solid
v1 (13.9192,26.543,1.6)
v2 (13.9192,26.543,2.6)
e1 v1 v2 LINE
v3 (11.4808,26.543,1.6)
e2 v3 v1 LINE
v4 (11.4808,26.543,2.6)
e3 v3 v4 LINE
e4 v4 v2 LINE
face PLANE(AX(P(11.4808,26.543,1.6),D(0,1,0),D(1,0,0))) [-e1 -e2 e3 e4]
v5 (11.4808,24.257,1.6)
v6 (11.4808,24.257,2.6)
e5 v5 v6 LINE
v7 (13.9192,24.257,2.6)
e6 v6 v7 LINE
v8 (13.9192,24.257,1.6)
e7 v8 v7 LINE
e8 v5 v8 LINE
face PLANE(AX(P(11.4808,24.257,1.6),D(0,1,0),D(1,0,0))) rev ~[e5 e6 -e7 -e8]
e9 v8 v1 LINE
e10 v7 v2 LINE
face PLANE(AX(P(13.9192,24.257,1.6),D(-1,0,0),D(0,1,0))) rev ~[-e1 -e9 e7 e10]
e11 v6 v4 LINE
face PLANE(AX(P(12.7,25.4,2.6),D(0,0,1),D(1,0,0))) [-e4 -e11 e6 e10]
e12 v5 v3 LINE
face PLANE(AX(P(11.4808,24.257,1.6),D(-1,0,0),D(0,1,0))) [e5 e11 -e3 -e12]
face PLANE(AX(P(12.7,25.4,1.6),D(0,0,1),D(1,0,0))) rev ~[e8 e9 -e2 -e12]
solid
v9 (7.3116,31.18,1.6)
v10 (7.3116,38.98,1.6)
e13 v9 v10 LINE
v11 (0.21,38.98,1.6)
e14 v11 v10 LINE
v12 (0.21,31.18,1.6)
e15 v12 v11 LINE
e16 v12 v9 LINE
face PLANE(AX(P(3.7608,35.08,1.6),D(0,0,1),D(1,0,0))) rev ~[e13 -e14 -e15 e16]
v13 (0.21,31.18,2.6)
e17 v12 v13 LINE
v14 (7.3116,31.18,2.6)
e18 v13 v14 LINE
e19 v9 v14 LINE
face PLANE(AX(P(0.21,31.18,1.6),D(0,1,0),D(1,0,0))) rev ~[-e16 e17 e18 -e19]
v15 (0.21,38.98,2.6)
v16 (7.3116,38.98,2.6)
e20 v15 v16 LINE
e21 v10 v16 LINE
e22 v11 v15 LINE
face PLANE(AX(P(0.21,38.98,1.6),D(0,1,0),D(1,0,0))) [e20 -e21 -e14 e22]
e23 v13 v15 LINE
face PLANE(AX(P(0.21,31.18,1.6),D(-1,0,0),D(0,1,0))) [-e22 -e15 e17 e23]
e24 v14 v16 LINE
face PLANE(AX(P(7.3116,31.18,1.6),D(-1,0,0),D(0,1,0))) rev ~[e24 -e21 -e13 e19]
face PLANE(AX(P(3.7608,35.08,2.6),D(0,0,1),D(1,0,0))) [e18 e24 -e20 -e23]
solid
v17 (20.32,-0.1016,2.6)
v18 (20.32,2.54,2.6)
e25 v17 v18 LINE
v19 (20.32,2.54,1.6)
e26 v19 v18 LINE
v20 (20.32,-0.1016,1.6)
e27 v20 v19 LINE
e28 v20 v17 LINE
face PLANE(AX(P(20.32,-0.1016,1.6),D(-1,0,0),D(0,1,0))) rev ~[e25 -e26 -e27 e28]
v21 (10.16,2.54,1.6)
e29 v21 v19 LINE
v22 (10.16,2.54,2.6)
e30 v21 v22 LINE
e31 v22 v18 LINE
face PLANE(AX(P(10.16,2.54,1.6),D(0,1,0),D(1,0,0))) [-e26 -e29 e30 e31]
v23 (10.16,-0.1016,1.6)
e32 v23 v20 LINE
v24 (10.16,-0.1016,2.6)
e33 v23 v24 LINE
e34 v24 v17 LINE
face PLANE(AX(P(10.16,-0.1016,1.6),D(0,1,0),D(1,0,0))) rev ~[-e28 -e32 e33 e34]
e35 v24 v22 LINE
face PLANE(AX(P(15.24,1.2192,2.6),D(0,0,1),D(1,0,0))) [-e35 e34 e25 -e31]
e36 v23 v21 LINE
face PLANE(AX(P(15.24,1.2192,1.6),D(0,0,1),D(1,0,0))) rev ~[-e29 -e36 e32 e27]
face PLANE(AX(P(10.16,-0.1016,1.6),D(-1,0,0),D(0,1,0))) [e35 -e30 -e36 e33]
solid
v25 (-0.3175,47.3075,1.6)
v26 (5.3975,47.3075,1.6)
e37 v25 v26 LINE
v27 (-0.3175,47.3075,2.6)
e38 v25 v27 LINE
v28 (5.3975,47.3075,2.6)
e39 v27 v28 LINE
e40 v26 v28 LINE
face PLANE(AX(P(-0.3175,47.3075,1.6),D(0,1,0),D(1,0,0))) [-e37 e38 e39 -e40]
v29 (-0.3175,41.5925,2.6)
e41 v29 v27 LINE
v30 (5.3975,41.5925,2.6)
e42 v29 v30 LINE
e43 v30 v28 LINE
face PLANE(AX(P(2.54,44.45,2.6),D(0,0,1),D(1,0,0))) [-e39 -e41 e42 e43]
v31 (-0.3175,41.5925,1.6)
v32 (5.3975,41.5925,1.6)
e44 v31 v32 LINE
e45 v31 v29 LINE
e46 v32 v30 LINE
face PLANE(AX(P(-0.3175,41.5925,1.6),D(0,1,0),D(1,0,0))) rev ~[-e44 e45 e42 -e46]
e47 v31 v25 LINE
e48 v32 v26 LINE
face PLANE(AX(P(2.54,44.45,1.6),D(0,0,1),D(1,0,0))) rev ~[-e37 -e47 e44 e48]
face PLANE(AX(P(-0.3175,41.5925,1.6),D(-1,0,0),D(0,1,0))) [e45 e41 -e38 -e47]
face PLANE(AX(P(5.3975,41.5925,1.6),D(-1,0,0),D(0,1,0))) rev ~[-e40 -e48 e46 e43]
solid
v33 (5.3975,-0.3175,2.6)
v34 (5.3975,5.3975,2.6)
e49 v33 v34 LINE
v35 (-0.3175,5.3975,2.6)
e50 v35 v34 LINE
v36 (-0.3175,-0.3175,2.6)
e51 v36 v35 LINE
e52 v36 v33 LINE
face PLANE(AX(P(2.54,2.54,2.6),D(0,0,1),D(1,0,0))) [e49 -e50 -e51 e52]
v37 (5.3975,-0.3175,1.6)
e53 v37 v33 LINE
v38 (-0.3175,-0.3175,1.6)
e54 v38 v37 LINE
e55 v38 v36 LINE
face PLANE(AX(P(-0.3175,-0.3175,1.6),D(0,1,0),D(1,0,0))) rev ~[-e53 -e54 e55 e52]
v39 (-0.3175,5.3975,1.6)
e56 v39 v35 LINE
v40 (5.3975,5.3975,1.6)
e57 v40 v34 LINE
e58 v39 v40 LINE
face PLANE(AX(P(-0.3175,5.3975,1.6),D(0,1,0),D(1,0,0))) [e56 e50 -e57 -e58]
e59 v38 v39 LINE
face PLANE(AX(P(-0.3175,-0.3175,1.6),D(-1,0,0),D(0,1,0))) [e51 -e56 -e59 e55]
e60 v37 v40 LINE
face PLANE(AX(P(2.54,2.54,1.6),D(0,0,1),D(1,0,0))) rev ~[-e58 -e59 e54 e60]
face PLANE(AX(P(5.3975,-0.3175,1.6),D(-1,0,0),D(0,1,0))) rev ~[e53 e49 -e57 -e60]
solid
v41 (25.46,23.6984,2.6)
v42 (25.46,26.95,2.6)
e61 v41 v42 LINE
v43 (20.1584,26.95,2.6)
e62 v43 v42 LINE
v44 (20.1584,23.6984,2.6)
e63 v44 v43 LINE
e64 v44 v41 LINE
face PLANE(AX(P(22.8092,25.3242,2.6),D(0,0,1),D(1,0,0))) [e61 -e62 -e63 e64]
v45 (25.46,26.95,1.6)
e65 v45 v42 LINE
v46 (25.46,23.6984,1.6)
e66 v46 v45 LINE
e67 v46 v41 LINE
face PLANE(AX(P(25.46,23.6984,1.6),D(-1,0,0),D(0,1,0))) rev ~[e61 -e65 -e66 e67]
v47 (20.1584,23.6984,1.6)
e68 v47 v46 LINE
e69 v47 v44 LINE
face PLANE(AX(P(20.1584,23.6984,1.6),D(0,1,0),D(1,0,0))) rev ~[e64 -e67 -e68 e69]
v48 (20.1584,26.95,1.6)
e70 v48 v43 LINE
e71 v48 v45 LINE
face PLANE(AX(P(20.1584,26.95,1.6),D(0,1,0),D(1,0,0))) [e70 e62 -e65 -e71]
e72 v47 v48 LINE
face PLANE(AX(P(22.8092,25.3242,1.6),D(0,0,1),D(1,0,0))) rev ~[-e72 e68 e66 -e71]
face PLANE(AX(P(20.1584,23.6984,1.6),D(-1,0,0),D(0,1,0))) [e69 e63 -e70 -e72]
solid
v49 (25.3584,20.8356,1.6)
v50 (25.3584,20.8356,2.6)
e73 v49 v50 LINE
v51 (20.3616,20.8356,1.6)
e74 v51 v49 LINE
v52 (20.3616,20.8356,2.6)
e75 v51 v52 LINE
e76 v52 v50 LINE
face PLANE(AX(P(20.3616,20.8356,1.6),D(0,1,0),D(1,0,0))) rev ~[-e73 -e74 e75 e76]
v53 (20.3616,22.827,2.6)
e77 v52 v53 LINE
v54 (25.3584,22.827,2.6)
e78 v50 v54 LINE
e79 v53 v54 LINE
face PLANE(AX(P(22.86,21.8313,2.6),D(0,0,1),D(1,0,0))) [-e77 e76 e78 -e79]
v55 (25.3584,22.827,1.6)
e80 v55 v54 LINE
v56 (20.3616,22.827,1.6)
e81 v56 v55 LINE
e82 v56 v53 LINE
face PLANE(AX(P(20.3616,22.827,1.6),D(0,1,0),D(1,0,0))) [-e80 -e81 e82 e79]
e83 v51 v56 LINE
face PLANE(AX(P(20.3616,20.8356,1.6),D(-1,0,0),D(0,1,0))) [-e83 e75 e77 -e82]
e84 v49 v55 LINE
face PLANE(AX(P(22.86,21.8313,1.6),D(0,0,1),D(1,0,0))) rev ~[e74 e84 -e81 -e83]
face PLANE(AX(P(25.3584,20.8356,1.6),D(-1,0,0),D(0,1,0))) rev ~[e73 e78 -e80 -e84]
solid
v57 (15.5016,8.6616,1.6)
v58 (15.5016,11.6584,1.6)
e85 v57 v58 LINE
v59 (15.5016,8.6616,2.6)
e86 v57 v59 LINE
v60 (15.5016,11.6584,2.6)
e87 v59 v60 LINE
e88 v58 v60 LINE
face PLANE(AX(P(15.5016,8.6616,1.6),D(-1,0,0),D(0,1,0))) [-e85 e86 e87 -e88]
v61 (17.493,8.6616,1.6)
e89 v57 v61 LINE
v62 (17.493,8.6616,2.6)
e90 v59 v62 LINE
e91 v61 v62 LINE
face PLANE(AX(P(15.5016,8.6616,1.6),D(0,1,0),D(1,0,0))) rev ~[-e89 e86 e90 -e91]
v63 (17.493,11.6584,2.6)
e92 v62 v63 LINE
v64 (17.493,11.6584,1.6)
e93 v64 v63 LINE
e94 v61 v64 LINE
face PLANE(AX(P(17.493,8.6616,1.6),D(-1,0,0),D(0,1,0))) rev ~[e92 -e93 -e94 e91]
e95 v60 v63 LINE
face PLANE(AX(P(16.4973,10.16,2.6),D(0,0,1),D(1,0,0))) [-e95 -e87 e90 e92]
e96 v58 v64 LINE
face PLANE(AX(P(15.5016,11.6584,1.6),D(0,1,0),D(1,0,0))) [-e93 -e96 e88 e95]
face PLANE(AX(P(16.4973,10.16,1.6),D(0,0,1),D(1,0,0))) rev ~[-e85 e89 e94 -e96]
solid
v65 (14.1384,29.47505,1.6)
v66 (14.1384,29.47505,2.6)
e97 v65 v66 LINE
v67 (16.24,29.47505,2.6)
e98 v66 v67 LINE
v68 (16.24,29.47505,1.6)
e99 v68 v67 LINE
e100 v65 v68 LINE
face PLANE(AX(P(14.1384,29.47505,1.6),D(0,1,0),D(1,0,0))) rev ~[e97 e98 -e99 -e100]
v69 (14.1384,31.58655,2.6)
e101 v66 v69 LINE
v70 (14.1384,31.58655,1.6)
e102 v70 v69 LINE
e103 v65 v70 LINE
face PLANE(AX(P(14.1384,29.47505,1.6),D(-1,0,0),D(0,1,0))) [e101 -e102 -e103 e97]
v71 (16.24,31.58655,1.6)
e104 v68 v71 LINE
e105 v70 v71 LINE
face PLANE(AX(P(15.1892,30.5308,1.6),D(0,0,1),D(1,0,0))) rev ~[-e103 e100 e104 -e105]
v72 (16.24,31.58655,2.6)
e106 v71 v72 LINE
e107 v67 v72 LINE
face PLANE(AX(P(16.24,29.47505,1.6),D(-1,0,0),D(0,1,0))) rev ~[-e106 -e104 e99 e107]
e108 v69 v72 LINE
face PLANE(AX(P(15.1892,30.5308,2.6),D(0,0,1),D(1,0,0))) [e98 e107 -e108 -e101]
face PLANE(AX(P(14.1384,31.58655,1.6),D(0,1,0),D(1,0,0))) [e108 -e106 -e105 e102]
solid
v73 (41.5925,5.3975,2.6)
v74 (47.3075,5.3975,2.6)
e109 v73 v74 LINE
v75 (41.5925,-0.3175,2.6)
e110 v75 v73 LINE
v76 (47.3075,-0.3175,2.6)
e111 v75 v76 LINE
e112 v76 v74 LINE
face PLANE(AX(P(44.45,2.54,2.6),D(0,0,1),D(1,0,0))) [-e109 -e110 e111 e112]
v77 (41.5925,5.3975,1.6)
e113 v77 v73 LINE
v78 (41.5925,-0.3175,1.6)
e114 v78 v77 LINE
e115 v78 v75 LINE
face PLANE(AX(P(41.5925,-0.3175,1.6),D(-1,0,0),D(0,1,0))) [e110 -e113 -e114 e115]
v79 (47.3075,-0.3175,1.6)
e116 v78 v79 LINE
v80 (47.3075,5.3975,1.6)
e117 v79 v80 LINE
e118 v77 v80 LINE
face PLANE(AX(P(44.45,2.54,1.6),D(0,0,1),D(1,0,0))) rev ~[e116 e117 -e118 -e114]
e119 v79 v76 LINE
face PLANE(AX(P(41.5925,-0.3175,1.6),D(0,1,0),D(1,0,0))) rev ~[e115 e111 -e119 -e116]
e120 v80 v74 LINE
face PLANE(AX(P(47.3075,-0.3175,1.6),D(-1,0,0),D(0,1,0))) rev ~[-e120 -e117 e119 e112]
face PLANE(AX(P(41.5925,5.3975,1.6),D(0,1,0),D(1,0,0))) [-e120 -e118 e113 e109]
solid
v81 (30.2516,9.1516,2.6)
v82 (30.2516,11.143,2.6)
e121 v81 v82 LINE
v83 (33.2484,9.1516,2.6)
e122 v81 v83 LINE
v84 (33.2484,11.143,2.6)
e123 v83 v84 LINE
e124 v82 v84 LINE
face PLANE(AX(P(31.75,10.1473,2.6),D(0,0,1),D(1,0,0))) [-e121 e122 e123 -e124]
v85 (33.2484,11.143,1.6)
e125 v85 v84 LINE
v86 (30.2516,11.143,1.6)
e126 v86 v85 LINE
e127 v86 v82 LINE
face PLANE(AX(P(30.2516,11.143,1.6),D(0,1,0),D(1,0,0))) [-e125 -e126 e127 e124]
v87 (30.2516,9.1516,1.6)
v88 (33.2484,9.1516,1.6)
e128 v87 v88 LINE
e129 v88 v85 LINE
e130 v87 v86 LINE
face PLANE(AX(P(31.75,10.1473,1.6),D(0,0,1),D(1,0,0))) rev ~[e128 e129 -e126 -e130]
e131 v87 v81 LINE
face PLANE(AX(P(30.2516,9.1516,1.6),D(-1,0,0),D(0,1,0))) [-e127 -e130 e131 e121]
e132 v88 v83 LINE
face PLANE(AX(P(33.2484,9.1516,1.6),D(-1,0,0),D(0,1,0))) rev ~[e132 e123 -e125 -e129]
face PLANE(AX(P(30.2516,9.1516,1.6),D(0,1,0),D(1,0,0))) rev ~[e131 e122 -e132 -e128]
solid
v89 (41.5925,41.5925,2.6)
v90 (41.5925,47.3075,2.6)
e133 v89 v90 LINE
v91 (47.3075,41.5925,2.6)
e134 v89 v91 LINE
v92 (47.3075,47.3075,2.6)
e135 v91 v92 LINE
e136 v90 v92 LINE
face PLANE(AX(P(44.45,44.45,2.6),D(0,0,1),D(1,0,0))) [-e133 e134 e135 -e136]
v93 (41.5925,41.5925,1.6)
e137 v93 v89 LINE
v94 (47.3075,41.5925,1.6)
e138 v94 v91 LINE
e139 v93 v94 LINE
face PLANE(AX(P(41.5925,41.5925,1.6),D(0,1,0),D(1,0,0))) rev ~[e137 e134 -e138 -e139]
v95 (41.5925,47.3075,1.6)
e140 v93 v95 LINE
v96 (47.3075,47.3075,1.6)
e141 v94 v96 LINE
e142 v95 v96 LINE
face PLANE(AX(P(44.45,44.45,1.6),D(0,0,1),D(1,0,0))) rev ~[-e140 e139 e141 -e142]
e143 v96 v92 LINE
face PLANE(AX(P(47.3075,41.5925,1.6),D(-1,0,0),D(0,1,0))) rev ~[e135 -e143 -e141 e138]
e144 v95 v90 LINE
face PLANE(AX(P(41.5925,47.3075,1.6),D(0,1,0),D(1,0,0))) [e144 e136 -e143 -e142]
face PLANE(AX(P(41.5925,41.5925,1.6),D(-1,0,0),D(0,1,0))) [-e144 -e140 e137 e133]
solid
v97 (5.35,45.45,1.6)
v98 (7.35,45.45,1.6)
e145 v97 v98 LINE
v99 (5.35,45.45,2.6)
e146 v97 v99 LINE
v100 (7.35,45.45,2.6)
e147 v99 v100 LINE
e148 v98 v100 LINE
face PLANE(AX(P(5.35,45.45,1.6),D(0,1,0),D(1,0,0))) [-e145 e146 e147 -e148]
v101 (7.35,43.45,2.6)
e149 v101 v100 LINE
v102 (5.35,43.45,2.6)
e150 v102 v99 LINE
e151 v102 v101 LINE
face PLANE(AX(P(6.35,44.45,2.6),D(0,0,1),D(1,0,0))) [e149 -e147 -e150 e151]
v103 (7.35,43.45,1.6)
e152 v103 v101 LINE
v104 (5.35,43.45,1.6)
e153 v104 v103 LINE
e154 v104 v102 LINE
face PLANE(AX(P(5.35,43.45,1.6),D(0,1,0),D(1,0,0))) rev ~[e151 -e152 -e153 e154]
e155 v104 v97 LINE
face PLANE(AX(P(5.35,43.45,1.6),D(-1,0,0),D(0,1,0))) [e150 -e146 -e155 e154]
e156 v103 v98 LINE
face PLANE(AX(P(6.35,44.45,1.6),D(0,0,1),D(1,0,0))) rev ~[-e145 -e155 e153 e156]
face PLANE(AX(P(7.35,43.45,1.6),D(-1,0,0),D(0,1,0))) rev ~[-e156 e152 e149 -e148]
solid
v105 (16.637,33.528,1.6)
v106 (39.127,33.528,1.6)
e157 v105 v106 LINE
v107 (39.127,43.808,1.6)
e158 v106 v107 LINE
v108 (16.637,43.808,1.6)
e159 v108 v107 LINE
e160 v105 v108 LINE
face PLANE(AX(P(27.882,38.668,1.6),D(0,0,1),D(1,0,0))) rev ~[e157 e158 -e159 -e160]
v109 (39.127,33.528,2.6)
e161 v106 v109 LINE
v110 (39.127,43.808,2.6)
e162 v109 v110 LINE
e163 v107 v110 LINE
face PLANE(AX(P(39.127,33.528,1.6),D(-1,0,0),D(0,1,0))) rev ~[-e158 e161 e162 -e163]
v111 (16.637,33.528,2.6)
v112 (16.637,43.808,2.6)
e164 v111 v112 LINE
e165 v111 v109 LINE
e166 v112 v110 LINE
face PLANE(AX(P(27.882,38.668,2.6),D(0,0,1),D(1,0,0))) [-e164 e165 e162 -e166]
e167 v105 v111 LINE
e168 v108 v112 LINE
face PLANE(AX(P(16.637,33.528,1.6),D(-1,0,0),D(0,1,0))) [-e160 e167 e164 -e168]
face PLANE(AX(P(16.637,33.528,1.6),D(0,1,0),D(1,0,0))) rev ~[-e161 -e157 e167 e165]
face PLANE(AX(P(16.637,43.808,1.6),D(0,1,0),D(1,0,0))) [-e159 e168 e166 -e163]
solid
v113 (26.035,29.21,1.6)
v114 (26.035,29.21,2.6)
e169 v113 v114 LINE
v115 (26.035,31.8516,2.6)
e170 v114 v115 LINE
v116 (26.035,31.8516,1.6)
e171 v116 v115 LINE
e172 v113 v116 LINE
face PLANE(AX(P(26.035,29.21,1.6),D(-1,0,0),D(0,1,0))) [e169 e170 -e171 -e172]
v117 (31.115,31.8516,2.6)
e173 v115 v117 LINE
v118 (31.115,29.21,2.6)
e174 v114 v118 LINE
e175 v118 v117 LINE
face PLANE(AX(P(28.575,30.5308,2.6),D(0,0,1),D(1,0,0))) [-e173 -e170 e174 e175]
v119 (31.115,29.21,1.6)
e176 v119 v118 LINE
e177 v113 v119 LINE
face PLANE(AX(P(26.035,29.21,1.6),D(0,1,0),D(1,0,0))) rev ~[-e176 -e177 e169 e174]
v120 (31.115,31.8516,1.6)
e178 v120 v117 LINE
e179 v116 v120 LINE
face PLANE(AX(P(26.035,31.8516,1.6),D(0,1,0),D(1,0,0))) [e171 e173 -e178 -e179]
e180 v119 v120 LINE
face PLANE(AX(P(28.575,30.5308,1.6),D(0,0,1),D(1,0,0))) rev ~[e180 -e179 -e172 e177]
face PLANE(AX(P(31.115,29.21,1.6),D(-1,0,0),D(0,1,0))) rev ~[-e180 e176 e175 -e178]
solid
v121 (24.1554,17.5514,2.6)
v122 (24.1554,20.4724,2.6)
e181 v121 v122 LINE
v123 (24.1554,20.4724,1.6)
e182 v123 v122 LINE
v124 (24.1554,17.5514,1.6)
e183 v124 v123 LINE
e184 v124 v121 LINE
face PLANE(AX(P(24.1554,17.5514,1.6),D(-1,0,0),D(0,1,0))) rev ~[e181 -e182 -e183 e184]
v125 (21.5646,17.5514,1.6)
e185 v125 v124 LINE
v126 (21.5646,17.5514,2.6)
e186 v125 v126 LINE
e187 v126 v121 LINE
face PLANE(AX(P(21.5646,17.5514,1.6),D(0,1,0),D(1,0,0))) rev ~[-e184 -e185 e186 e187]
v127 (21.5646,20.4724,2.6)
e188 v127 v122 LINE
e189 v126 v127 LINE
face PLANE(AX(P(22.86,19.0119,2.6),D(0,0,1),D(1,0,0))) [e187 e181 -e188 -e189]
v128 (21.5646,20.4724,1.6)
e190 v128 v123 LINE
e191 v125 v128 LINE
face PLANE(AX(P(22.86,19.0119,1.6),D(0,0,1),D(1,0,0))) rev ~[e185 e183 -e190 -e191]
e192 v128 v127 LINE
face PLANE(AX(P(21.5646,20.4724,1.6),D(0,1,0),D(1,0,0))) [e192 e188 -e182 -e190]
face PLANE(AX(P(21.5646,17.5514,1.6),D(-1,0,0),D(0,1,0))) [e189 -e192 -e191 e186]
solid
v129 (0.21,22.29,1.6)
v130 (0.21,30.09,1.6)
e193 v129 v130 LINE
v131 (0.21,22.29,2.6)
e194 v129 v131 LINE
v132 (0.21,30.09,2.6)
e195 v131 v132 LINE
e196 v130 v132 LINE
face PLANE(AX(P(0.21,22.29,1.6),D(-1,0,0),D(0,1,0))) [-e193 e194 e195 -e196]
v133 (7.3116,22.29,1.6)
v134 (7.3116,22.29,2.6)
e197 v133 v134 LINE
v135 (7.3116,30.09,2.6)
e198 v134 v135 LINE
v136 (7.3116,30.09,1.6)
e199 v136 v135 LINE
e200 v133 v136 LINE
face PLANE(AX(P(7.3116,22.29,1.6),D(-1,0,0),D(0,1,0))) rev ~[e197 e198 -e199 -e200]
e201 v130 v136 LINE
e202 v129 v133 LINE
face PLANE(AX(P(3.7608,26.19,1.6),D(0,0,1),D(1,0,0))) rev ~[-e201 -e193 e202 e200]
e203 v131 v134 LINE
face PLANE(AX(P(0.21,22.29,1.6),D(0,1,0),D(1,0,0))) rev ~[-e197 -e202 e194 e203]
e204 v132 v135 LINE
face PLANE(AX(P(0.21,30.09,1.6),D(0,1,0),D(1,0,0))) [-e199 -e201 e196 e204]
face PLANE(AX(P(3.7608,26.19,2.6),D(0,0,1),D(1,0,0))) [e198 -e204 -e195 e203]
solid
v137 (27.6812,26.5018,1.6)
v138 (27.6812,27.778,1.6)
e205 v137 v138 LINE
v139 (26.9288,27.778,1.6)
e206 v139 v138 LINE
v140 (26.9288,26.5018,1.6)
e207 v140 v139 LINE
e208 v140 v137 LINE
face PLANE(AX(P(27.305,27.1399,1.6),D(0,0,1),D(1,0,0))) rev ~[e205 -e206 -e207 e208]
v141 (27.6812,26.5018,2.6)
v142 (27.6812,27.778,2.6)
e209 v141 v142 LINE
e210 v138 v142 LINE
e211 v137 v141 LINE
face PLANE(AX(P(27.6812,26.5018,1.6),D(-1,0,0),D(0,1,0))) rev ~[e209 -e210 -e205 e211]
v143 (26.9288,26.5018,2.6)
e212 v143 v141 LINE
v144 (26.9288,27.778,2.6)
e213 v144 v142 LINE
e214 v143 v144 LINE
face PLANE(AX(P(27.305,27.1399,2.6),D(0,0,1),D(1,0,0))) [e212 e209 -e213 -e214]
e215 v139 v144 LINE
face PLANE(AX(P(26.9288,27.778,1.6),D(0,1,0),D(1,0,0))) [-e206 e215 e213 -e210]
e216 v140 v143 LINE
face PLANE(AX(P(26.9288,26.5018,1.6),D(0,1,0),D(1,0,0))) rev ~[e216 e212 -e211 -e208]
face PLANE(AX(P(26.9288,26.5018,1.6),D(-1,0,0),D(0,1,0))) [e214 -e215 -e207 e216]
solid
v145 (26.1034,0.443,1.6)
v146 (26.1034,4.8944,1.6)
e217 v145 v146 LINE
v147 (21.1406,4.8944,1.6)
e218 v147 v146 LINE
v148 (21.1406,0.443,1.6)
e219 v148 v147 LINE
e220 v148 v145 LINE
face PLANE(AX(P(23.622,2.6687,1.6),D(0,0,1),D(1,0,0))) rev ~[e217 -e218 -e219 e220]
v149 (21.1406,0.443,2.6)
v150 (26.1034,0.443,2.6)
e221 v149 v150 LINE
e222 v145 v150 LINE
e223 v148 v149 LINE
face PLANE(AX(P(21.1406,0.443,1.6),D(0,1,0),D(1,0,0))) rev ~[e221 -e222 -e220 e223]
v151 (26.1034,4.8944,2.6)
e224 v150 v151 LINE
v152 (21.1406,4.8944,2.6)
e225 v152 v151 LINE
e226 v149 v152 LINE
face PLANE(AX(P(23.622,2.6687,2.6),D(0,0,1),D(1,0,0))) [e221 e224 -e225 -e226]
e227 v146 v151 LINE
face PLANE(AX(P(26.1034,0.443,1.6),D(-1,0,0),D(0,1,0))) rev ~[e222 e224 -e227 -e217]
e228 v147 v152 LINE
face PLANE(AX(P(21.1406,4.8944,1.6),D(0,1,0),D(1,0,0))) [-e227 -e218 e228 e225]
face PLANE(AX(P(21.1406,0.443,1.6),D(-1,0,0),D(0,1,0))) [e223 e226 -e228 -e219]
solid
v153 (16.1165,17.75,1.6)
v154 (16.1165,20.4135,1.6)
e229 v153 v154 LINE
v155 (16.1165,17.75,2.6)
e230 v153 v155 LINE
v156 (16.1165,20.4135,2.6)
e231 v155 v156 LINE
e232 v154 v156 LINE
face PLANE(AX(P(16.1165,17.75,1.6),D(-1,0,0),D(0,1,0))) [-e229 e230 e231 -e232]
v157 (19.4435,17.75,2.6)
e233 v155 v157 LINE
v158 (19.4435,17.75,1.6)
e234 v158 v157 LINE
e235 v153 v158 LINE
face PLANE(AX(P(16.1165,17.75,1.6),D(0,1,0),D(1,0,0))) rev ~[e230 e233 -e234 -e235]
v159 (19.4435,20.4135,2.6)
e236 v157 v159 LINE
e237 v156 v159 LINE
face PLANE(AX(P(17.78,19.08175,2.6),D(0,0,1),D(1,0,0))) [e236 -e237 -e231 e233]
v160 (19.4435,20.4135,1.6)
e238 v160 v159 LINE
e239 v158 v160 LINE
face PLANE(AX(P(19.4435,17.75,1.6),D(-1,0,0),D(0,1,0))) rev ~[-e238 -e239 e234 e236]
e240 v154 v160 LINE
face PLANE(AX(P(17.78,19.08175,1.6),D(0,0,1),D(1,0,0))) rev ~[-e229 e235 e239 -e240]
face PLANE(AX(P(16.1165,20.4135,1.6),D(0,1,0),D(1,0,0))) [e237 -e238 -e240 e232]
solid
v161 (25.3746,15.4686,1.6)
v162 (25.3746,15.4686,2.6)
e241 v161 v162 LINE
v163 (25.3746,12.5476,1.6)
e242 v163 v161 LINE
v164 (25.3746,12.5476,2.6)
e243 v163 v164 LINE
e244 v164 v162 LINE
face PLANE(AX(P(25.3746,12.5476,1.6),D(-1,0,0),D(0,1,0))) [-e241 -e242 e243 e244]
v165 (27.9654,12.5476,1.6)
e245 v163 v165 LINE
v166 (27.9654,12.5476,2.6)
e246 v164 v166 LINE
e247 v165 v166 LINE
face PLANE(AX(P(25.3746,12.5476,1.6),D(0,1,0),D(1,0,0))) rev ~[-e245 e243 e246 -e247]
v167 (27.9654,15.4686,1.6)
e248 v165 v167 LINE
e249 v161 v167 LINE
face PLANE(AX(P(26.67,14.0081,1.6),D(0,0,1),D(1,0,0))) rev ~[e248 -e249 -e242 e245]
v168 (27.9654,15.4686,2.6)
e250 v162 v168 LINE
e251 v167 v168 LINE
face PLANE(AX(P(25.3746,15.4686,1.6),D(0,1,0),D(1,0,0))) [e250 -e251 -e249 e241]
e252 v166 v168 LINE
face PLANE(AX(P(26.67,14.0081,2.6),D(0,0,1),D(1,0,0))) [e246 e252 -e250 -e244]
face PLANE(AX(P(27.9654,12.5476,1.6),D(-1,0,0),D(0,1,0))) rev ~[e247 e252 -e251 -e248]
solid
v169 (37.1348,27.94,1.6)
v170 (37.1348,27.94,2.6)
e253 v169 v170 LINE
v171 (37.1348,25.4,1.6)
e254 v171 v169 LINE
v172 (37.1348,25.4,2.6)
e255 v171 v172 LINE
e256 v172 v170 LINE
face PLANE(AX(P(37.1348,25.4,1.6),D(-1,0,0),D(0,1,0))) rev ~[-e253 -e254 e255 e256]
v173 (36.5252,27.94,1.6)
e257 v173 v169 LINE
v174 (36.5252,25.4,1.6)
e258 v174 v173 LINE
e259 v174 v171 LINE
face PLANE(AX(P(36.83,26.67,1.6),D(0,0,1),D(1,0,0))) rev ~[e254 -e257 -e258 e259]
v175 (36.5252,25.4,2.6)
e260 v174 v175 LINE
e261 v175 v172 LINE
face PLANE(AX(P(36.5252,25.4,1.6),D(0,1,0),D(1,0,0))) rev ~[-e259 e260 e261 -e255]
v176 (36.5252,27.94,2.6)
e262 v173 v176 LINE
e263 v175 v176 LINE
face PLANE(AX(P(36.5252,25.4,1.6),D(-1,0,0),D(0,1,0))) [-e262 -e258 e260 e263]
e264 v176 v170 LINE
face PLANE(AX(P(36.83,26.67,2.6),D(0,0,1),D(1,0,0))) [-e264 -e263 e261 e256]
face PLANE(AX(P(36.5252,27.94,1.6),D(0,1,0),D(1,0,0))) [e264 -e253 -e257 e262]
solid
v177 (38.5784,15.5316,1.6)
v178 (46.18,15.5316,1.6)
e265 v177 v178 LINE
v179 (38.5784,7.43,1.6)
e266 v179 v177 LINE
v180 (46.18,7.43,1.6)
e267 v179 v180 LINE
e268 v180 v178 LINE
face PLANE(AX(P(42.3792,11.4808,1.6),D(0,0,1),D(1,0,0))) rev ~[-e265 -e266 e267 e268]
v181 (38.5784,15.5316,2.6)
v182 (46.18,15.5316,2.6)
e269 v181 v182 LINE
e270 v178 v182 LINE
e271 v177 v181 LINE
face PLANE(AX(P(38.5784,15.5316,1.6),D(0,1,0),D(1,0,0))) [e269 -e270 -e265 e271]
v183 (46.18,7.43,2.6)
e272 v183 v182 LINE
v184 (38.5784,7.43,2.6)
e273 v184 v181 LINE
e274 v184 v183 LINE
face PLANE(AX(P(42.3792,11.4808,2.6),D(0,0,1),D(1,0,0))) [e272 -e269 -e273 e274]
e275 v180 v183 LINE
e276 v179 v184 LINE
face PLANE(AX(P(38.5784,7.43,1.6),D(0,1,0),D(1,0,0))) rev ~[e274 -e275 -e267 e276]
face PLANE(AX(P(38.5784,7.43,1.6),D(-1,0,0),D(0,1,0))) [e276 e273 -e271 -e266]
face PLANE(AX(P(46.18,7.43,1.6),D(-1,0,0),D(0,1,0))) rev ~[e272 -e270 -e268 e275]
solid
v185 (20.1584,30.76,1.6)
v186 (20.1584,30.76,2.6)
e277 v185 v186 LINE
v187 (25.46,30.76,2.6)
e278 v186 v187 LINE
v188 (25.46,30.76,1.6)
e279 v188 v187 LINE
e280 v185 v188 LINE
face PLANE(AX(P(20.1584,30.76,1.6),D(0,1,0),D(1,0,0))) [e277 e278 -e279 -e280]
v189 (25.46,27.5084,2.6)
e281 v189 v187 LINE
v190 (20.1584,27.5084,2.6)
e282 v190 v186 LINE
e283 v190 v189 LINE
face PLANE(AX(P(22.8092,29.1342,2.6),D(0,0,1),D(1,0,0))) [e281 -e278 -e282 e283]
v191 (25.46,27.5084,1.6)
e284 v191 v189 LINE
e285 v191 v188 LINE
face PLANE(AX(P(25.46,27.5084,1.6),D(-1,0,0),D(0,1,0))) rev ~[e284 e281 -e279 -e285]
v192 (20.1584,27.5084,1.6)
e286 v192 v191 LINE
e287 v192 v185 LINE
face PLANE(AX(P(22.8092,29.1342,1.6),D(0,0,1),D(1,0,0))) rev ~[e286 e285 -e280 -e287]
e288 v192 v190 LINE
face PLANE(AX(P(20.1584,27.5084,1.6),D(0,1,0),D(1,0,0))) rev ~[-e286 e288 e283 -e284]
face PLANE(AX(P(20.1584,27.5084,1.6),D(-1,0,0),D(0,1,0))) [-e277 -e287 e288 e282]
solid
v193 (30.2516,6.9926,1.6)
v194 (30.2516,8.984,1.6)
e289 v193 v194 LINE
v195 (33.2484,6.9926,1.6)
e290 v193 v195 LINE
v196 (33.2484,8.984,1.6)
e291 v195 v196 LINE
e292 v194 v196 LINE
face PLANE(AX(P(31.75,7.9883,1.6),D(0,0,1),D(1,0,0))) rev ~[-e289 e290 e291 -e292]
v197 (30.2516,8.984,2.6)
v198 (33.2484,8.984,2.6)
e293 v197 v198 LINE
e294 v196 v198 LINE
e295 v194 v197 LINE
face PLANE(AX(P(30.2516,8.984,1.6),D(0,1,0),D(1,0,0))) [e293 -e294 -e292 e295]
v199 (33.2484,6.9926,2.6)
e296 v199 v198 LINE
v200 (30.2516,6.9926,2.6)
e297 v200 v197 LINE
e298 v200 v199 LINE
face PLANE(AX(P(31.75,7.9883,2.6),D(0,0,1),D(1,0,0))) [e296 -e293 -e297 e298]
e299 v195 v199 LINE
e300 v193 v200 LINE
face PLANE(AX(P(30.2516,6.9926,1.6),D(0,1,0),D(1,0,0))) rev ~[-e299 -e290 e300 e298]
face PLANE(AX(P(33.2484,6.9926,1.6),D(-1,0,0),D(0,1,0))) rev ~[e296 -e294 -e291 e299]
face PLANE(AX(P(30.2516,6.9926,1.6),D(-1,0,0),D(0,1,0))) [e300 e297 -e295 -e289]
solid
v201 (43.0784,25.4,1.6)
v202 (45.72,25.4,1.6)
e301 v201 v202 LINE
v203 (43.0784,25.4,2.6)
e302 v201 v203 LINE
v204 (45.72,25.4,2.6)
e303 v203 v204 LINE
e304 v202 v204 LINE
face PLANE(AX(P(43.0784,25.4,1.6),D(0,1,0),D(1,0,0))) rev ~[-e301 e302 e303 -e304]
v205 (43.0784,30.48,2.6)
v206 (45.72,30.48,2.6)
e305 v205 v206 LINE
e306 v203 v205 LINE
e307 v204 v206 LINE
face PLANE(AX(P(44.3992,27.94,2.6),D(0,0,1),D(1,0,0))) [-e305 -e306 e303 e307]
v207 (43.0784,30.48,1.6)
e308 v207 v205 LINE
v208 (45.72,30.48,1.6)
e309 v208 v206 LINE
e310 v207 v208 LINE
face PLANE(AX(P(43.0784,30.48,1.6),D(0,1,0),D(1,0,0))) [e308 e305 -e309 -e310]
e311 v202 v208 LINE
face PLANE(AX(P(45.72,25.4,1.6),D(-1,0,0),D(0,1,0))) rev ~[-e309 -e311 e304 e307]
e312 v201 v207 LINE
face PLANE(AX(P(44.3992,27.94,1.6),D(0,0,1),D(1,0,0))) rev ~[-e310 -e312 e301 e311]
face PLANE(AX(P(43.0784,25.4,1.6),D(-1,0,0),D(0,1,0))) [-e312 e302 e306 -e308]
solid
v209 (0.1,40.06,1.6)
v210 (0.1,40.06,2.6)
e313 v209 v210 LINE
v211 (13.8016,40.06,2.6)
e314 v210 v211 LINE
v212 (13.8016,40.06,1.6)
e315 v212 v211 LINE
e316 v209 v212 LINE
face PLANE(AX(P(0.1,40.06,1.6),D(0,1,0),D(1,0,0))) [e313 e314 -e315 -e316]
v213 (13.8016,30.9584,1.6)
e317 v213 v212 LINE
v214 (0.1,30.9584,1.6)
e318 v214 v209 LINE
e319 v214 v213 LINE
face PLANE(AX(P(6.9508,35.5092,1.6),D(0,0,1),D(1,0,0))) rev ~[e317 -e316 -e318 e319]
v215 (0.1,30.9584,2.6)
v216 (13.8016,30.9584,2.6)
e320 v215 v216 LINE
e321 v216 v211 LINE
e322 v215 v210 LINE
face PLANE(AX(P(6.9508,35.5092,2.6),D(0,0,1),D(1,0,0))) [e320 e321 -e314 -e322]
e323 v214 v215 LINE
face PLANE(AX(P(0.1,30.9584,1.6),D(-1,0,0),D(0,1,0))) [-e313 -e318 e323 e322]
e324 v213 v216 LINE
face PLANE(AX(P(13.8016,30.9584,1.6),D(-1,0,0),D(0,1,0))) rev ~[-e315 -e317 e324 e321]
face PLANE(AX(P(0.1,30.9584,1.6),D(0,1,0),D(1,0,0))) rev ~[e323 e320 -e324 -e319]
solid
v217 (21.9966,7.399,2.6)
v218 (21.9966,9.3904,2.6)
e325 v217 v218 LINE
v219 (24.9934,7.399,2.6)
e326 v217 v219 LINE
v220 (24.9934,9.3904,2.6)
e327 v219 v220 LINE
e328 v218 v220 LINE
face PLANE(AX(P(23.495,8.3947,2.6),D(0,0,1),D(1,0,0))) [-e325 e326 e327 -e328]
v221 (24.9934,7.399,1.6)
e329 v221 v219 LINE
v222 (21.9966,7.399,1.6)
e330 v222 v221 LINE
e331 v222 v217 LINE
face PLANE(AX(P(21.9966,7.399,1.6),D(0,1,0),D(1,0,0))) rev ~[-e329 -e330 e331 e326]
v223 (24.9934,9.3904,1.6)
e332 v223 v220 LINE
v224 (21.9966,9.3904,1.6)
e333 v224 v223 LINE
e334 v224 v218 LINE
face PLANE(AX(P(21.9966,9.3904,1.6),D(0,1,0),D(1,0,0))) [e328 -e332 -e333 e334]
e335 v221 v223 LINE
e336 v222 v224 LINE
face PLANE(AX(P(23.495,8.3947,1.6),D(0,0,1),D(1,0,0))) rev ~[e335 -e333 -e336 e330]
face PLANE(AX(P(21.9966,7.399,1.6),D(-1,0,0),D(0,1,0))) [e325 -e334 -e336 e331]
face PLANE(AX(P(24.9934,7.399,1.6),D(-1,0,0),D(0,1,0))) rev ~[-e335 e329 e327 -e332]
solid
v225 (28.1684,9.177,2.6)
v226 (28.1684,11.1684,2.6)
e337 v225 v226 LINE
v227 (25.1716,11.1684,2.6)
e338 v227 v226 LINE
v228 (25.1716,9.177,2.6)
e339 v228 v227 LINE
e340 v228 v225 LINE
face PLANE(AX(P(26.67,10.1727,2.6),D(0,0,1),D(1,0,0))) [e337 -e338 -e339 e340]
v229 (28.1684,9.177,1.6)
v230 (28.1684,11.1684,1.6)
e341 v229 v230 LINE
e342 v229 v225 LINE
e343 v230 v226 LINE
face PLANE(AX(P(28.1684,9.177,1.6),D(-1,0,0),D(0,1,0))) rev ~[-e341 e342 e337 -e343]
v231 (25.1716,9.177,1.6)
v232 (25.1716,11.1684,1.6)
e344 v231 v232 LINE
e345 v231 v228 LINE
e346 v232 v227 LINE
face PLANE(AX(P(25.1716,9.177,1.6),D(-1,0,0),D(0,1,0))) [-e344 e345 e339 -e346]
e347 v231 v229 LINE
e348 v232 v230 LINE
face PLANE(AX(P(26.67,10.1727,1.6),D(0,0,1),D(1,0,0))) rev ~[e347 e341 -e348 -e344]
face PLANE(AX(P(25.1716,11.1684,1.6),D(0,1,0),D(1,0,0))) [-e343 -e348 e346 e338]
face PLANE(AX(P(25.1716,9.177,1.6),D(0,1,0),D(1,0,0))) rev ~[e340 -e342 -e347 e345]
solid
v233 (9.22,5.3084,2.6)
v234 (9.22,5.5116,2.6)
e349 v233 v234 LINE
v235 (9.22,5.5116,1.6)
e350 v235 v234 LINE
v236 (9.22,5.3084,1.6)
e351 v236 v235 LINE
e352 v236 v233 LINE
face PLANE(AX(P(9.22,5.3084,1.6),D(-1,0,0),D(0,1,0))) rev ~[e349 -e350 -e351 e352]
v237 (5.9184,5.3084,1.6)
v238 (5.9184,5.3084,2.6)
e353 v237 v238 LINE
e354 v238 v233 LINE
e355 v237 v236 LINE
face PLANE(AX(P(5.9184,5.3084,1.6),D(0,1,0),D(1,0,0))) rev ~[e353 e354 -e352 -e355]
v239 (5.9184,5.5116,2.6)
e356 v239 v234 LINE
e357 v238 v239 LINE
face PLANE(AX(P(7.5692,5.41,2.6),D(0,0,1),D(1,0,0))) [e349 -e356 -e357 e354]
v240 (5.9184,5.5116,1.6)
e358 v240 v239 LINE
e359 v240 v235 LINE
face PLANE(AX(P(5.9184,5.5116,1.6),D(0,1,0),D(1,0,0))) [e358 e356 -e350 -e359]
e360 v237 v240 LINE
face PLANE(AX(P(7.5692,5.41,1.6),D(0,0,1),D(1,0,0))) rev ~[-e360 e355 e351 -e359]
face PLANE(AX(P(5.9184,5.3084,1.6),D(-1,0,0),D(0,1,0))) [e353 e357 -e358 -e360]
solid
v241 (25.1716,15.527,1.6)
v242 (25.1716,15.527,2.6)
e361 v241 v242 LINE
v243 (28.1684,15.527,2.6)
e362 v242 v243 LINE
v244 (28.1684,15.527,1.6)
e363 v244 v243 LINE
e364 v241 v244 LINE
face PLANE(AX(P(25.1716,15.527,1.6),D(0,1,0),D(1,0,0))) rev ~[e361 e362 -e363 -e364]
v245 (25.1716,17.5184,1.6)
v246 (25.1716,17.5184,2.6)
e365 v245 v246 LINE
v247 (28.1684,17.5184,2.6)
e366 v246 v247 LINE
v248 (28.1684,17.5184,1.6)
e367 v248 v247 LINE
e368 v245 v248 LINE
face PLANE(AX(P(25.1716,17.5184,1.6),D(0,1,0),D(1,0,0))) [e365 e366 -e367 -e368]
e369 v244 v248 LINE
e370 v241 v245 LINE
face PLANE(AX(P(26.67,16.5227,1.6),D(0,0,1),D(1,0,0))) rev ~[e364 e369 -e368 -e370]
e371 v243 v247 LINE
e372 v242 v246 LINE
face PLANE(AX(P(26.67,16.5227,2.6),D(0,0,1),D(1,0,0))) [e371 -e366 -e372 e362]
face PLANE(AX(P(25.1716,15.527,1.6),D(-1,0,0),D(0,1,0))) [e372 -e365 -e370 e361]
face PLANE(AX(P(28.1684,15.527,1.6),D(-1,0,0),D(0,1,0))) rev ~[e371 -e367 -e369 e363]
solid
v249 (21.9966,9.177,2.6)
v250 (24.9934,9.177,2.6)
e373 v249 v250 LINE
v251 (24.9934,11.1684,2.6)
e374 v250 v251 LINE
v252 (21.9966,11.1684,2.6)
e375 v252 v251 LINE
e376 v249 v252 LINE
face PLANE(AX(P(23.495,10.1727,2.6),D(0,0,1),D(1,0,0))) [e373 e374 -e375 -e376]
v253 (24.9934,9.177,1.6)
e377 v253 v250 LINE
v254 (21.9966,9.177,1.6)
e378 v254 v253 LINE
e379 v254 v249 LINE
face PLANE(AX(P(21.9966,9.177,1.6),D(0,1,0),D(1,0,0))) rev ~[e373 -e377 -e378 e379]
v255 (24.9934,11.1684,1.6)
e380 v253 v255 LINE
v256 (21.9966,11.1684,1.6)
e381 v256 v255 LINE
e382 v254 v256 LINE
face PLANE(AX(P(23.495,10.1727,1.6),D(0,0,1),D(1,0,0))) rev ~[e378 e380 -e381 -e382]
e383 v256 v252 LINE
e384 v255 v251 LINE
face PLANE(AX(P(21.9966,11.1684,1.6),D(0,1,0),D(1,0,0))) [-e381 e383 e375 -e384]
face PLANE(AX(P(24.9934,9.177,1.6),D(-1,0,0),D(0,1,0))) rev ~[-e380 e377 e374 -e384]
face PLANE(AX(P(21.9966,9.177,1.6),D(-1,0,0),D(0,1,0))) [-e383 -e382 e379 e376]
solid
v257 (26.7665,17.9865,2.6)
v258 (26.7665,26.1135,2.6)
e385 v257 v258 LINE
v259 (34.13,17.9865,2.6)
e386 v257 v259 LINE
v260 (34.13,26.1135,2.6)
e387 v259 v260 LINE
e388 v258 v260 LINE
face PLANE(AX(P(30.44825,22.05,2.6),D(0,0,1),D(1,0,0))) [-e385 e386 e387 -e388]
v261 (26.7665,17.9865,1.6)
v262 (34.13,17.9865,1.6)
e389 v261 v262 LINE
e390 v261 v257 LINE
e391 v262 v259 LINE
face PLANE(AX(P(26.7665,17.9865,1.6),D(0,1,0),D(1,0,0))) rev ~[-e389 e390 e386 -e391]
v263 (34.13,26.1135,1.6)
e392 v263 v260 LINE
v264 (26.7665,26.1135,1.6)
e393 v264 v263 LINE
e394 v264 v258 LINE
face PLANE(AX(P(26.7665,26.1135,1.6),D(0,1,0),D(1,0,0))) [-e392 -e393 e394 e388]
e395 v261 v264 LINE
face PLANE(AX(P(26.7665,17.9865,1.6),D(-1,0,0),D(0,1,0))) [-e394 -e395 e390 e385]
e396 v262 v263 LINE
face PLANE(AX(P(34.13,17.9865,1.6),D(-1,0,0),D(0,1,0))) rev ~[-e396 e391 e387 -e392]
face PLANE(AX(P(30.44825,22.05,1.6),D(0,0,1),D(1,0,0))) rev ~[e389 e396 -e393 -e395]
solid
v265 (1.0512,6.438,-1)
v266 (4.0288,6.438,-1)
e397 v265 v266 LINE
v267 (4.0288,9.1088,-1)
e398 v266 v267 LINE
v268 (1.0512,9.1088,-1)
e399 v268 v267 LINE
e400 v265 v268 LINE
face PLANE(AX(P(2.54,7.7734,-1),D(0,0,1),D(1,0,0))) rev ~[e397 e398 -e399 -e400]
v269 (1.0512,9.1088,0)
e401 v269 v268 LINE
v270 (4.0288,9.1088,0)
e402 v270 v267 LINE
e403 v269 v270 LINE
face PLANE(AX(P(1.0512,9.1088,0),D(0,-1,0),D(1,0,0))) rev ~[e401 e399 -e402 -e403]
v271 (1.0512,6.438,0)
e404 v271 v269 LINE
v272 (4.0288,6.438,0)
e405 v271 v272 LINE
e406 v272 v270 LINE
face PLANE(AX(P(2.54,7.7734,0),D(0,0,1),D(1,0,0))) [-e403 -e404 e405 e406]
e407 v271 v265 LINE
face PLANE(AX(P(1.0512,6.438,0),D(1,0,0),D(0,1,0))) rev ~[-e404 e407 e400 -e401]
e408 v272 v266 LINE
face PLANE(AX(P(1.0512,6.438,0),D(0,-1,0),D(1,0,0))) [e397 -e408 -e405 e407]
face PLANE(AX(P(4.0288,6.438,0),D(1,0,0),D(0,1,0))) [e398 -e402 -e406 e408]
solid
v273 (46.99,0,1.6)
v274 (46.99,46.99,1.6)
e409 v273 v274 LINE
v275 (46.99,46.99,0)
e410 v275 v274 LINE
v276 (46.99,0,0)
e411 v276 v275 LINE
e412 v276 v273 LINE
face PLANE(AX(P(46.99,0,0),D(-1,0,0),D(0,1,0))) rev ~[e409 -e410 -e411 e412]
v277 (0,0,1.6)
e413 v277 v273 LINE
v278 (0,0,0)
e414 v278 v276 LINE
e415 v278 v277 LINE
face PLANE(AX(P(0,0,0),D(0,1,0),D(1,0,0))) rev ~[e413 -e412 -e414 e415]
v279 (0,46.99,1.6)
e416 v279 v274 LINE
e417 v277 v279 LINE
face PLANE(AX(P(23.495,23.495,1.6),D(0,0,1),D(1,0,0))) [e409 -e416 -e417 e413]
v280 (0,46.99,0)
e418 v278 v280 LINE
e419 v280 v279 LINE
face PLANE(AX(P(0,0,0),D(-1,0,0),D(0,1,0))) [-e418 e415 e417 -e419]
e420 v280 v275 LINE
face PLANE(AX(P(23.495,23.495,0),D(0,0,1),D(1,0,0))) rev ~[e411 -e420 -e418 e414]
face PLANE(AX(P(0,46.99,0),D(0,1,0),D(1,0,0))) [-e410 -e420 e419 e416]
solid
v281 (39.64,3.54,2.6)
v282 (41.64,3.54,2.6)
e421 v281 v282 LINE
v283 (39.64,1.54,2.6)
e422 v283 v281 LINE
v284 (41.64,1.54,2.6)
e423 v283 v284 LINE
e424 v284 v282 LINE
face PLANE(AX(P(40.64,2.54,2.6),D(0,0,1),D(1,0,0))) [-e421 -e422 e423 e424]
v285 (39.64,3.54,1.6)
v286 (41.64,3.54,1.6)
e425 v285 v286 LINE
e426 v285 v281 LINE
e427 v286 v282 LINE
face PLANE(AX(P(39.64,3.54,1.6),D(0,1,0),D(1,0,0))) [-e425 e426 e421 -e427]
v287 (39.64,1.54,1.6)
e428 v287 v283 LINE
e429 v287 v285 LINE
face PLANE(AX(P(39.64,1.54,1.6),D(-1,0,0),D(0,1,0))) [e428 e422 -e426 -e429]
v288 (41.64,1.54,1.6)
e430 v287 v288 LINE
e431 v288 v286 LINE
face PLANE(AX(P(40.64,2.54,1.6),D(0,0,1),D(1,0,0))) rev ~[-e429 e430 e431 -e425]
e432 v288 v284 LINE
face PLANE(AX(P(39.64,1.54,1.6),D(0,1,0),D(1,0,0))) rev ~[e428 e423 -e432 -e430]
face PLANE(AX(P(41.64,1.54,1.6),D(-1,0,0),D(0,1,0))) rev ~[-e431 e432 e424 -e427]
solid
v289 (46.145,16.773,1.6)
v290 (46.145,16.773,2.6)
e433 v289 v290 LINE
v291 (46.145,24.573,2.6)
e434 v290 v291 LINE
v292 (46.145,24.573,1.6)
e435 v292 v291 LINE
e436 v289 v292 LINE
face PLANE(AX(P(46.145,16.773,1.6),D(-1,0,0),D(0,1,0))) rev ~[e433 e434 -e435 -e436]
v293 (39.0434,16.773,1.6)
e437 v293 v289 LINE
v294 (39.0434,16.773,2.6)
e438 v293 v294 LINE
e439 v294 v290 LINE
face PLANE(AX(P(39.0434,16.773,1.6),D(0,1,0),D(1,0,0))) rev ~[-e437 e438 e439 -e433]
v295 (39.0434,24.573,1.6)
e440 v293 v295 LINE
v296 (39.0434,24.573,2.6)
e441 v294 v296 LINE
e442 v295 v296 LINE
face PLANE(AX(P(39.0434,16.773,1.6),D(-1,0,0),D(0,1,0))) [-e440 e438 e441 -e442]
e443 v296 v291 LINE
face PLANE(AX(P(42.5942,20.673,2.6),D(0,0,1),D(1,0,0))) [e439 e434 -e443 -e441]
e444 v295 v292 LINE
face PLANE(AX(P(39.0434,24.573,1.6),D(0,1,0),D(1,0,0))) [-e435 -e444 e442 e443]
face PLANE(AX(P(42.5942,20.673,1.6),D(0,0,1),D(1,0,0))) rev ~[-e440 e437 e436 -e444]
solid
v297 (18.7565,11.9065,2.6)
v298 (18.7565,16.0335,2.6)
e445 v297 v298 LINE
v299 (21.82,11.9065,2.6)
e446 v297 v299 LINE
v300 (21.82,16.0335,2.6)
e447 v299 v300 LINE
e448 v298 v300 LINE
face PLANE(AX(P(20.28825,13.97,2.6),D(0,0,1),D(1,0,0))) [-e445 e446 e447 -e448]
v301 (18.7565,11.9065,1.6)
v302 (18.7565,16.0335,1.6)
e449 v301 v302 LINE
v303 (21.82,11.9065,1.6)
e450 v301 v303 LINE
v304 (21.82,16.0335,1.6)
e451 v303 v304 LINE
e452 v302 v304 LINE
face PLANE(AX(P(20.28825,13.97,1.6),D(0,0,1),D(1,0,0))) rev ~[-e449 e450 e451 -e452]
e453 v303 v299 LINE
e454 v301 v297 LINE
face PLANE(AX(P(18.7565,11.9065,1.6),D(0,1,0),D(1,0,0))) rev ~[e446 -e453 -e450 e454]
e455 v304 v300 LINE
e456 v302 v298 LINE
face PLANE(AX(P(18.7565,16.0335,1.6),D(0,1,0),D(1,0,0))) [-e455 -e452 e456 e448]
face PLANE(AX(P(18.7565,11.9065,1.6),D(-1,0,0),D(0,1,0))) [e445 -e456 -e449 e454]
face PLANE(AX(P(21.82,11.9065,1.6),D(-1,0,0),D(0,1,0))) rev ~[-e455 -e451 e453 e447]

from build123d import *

# Parameters (mm, degrees)
SKETCH1_W                            = 46.99
SKETCH1_H                            = 46.99
BOARD_DEPTH                          = 1.6
SKETCH2_W                            = 3.327
SKETCH2_H                            = 2.6635
EXTRUDE_1210_1_DEPTH                 = 1
SKETCH3_W                            = 4.9968
SKETCH3_H                            = 1.9914
EXTRUDE_1206_1_DEPTH                 = 1
SKETCH4_W                            = 5.3016
SKETCH4_H                            = 3.2516
EIA3528_1_DEPTH                      = 1
SKETCH5_W                            = 5.3016
SKETCH5_H                            = 3.2516
EIA3528_2_DEPTH                      = 1
SKETCH6_W                            = 2.9968
SKETCH6_H                            = 1.9914
F_0603_CAP_1_DEPTH                   = 1
SKETCH7_W                            = 1.9914
SKETCH7_H                            = 2.9968
F_0603_CAP_2_DEPTH                   = 1
SKETCH8_W                            = 2.5908
SKETCH8_H                            = 2.921
SOT23_1_DEPTH                        = 1
SKETCH9_W                            = 2.5908
SKETCH9_H                            = 2.921
SOT23_2_DEPTH                        = 1
SKETCH10_W                           = 2
SKETCH10_H                           = 2
FIDUCIAL_1X2_1_DEPTH                 = 1
SKETCH11_W                           = 2
SKETCH11_H                           = 2
FIDUCIAL_1X2_2_DEPTH                 = 1
SKETCH14_W                           = 13.7016
SKETCH14_H                           = 9.1016
POWER_JACK_PTH_1_DEPTH               = 1
SKETCH15_W                           = 7.6016
SKETCH15_H                           = 8.1016
JST_2_SMD_1_DEPTH                    = 1
SKETCH16_W                           = 10.16
SKETCH16_H                           = 2.6416
EXTRUDE_1X04_1_DEPTH                 = 1
SKETCH17_W                           = 2.6416
SKETCH17_H                           = 5.08
EXTRUDE_1X02_1_DEPTH                 = 1
SKETCH18_W                           = 7.1016
SKETCH18_H                           = 7.8
SCREWTERMINAL_3_5MM_2_1_DEPTH        = 1
SKETCH19_W                           = 7.1016
SKETCH19_H                           = 7.8
SCREWTERMINAL_3_5MM_2_2_DEPTH        = 1
SKETCH20_W                           = 7.1016
SKETCH20_H                           = 7.8
SCREWTERMINAL_3_5MM_2_3_DEPTH        = 1
SKETCH21_W                           = 2.4384
SKETCH21_H                           = 2.286
SJ_2S_1_DEPTH                        = 1
SKETCH22_W                           = 2.1016
SKETCH22_H                           = 2.1115
SJ_2S_NO_1_DEPTH                     = 1
SKETCH23_W                           = 0.6096
SKETCH23_H                           = 2.54
PTH_JUMPER_NC_BOTTOM_NO_SILK_1_DEPTH = 1
SKETCH24_W                           = 5.08
SKETCH24_H                           = 2.6416
EXTRUDE_1X02_2_DEPTH                 = 1
SKETCH25_W                           = 7.3635
SKETCH25_H                           = 8.127
CR75_1_DEPTH                         = 1
SKETCH26_W                           = 22.49
SKETCH26_H                           = 10.28
SFE_LOGO_NAME_FLAME_2_1_DEPTH        = 1
SKETCH27_W                           = 4.9628
SKETCH27_H                           = 4.4514
OSHW_LOGO_M_1_DEPTH                  = 1
SKETCH28_W                           = 2.9776
SKETCH28_H                           = 2.6708
OSHW_LOGO_S_1_DEPTH                  = 1
SKETCH30_W                           = 0.7524
SKETCH30_H                           = 1.2762
EXTRUDE_0805_1_DEPTH                 = 1
SKETCH31_W                           = 2.9968
SKETCH31_H                           = 1.9914
F_0603_RES_1_DEPTH                   = 1
SKETCH32_W                           = 2.9968
SKETCH32_H                           = 1.9914
F_0603_RES_2_DEPTH                   = 1
SKETCH33_W                           = 2.9968
SKETCH33_H                           = 1.9914
F_0603_RES_3_DEPTH                   = 1
SKETCH34_W                           = 2.9968
SKETCH34_H                           = 1.9914
F_0603_RES_4_DEPTH                   = 1
SKETCH35_W                           = 2.9968
SKETCH35_H                           = 1.9914
F_0603_RES_5_DEPTH                   = 1
SKETCH36_W                           = 3.3016
SKETCH36_H                           = 0.2032
TRIMPOT_3MM_1_DEPTH                  = 1
SKETCH37_W                           = 5.715
SKETCH37_H                           = 5.715
STAND_OFF_1_DEPTH                    = 1
SKETCH38_W                           = 5.715
SKETCH38_H                           = 5.715
STAND_OFF_2_DEPTH                    = 1
SKETCH39_W                           = 5.715
SKETCH39_H                           = 5.715
STAND_OFF_3_DEPTH                    = 1
SKETCH40_W                           = 5.715
SKETCH40_H                           = 5.715
STAND_OFF_4_DEPTH                    = 1
SKETCH41_W                           = 3.0635
SKETCH41_H                           = 4.127
MSOP_12_GND_1_DEPTH                  = 1


with BuildPart() as part:
    # Sketch1 → BOARD (new body)
    with BuildSketch(Plane.XY):
        with Locations((23.495, 23.495)):
            Rectangle(SKETCH1_W, SKETCH1_H)
    extrude(amount=BOARD_DEPTH)


with BuildPart() as body_2:
    # Sketch2 → 1210-1 (new body)
    with BuildSketch(Plane.XY.offset(1.6)):
        with Locations((17.78, 19.08175)):
            Rectangle(SKETCH2_W, SKETCH2_H)
    extrude(amount=EXTRUDE_1210_1_DEPTH)


with BuildPart() as body_3:
    # Sketch3 → 1206-1 (new body)
    with BuildSketch(Plane.XY.offset(1.6)):
        with Locations((22.86, 21.8313)):
            Rectangle(SKETCH3_W, SKETCH3_H)
    extrude(amount=EXTRUDE_1206_1_DEPTH)


with BuildPart() as body_4:
    # Sketch4 → EIA3528-1 (new body)
    with BuildSketch(Plane.XY.offset(1.6)):
        with Locations((22.8092, 29.1342)):
            Rectangle(SKETCH4_W, SKETCH4_H)
    extrude(amount=EIA3528_1_DEPTH)


with BuildPart() as body_5:
    # Sketch5 → EIA3528-2 (new body)
    with BuildSketch(Plane.XY.offset(1.6)):
        with Locations((22.8092, 25.3242)):
            Rectangle(SKETCH5_W, SKETCH5_H)
    extrude(amount=EIA3528_2_DEPTH)


with BuildPart() as body_6:
    # Sketch6 → 0603-CAP-1 (new body)
    with BuildSketch(Plane.XY.offset(1.6)):
        with Locations((26.67, 16.5227)):
            Rectangle(SKETCH6_W, SKETCH6_H)
    extrude(amount=F_0603_CAP_1_DEPTH)


with BuildPart() as body_7:
    # Sketch7 → 0603-CAP-2 (new body)
    with BuildSketch(Plane.XY.offset(1.6)):
        with Locations((16.4973, 10.16)):
            Rectangle(SKETCH7_W, SKETCH7_H)
    extrude(amount=F_0603_CAP_2_DEPTH)


with BuildPart() as body_8:
    # Sketch8 → SOT23-1 (new body)
    with BuildSketch(Plane.XY.offset(1.6)):
        with Locations((22.86, 19.0119)):
            Rectangle(SKETCH8_W, SKETCH8_H)
    extrude(amount=SOT23_1_DEPTH)


with BuildPart() as body_9:
    # Sketch9 → SOT23-2 (new body)
    with BuildSketch(Plane.XY.offset(1.6)):
        with Locations((26.67, 14.0081)):
            Rectangle(SKETCH9_W, SKETCH9_H)
    extrude(amount=SOT23_2_DEPTH)


with BuildPart() as body_10:
    # Sketch10 → FIDUCIAL-1X2-1 (new body)
    with BuildSketch(Plane.XY.offset(1.6)):
        with Locations((6.35, 44.45)):
            Rectangle(SKETCH10_W, SKETCH10_H)
    extrude(amount=FIDUCIAL_1X2_1_DEPTH)


with BuildPart() as body_11:
    # Sketch11 → FIDUCIAL-1X2-2 (new body)
    with BuildSketch(Plane.XY.offset(1.6)):
        with Locations((40.64, 2.54)):
            Rectangle(SKETCH11_W, SKETCH11_H)
    extrude(amount=FIDUCIAL_1X2_2_DEPTH)


with BuildPart() as body_12:
    # Sketch14 → POWER_JACK_PTH-1 (new body)
    with BuildSketch(Plane.XY.offset(1.6)):
        with Locations((6.9508, 35.5092)):
            Rectangle(SKETCH14_W, SKETCH14_H)
    extrude(amount=POWER_JACK_PTH_1_DEPTH)


with BuildPart() as body_13:
    # Sketch15 → JST-2-SMD-1 (new body)
    with BuildSketch(Plane.XY.offset(1.6)):
        with Locations((42.3792, 11.4808)):
            Rectangle(SKETCH15_W, SKETCH15_H)
    extrude(amount=JST_2_SMD_1_DEPTH)


with BuildPart() as body_14:
    # Sketch16 → 1X04-1 (new body)
    with BuildSketch(Plane.XY.offset(1.6)):
        with Locations((15.24, 1.2192)):
            Rectangle(SKETCH16_W, SKETCH16_H)
    extrude(amount=EXTRUDE_1X04_1_DEPTH)


with BuildPart() as body_15:
    # Sketch17 → 1X02-1 (new body)
    with BuildSketch(Plane.XY.offset(1.6)):
        with Locations((44.3992, 27.94)):
            Rectangle(SKETCH17_W, SKETCH17_H)
    extrude(amount=EXTRUDE_1X02_1_DEPTH)


with BuildPart() as body_16:
    # Sketch18 → SCREWTERMINAL-3_5MM-2-1 (new body)
    with BuildSketch(Plane.XY.offset(1.6)):
        with Locations((42.5942, 20.673)):
            Rectangle(SKETCH18_W, SKETCH18_H)
    extrude(amount=SCREWTERMINAL_3_5MM_2_1_DEPTH)


with BuildPart() as body_17:
    # Sketch19 → SCREWTERMINAL-3_5MM-2-2 (new body)
    with BuildSketch(Plane.XY.offset(1.6)):
        with Locations((3.7608, 35.08)):
            Rectangle(SKETCH19_W, SKETCH19_H)
    extrude(amount=SCREWTERMINAL_3_5MM_2_2_DEPTH)


with BuildPart() as body_18:
    # Sketch20 → SCREWTERMINAL-3_5MM-2-3 (new body)
    with BuildSketch(Plane.XY.offset(1.6)):
        with Locations((3.7608, 26.19)):
            Rectangle(SKETCH20_W, SKETCH20_H)
    extrude(amount=SCREWTERMINAL_3_5MM_2_3_DEPTH)


with BuildPart() as body_19:
    # Sketch21 → SJ_2S-1 (new body)
    with BuildSketch(Plane.XY.offset(1.6)):
        with Locations((12.7, 25.4)):
            Rectangle(SKETCH21_W, SKETCH21_H)
    extrude(amount=SJ_2S_1_DEPTH)


with BuildPart() as body_20:
    # Sketch22 → SJ_2S-NO-1 (new body)
    with BuildSketch(Plane.XY.offset(1.6)):
        with Locations((15.1892, 30.5308)):
            Rectangle(SKETCH22_W, SKETCH22_H)
    extrude(amount=SJ_2S_NO_1_DEPTH)


with BuildPart() as body_21:
    # Sketch23 → PTH-JUMPER-NC_BOTTOM_NO_SILK-1 (new body)
    with BuildSketch(Plane.XY.offset(1.6)):
        with Locations((36.83, 26.67)):
            Rectangle(SKETCH23_W, SKETCH23_H)
    extrude(amount=PTH_JUMPER_NC_BOTTOM_NO_SILK_1_DEPTH)


with BuildPart() as body_22:
    # Sketch24 → 1X02-2 (new body)
    with BuildSketch(Plane.XY.offset(1.6)):
        with Locations((28.575, 30.5308)):
            Rectangle(SKETCH24_W, SKETCH24_H)
    extrude(amount=EXTRUDE_1X02_2_DEPTH)


with BuildPart() as body_23:
    # Sketch25 → CR75-1 (new body)
    with BuildSketch(Plane.XY.offset(1.6)):
        with Locations((30.44825, 22.05)):
            Rectangle(SKETCH25_W, SKETCH25_H)
    extrude(amount=CR75_1_DEPTH)


with BuildPart() as body_24:
    # Sketch26 → SFE_LOGO_NAME_FLAME__2-1 (new body)
    with BuildSketch(Plane.XY.offset(1.6)):
        with Locations((27.882, 38.668)):
            Rectangle(SKETCH26_W, SKETCH26_H)
    extrude(amount=SFE_LOGO_NAME_FLAME_2_1_DEPTH)


with BuildPart() as body_25:
    # Sketch27 → OSHW-LOGO-M-1 (new body)
    with BuildSketch(Plane.XY.offset(1.6)):
        with Locations((23.622, 2.6687)):
            Rectangle(SKETCH27_W, SKETCH27_H)
    extrude(amount=OSHW_LOGO_M_1_DEPTH)


with BuildPart() as body_26:
    # Sketch28 → OSHW-LOGO-S-1 (new body)
    with BuildSketch(Plane.XY):
        with Locations((2.54, 7.7734)):
            Rectangle(SKETCH28_W, SKETCH28_H)
    extrude(amount=-OSHW_LOGO_S_1_DEPTH)


with BuildPart() as body_27:
    # Sketch30 → 0805-1 (new body)
    with BuildSketch(Plane.XY.offset(1.6)):
        with Locations((27.305, 27.1399)):
            Rectangle(SKETCH30_W, SKETCH30_H)
    extrude(amount=EXTRUDE_0805_1_DEPTH)


with BuildPart() as body_28:
    # Sketch31 → 0603-RES-1 (new body)
    with BuildSketch(Plane.XY.offset(1.6)):
        with Locations((26.67, 10.1727)):
            Rectangle(SKETCH31_W, SKETCH31_H)
    extrude(amount=F_0603_RES_1_DEPTH)


with BuildPart() as body_29:
    # Sketch32 → 0603-RES-2 (new body)
    with BuildSketch(Plane.XY.offset(1.6)):
        with Locations((23.495, 8.3947)):
            Rectangle(SKETCH32_W, SKETCH32_H)
    extrude(amount=F_0603_RES_2_DEPTH)


with BuildPart() as body_30:
    # Sketch33 → 0603-RES-3 (new body)
    with BuildSketch(Plane.XY.offset(1.6)):
        with Locations((23.495, 10.1727)):
            Rectangle(SKETCH33_W, SKETCH33_H)
    extrude(amount=F_0603_RES_3_DEPTH)


with BuildPart() as body_31:
    # Sketch34 → 0603-RES-4 (new body)
    with BuildSketch(Plane.XY.offset(1.6)):
        with Locations((31.75, 10.1473)):
            Rectangle(SKETCH34_W, SKETCH34_H)
    extrude(amount=F_0603_RES_4_DEPTH)


with BuildPart() as body_32:
    # Sketch35 → 0603-RES-5 (new body)
    with BuildSketch(Plane.XY.offset(1.6)):
        with Locations((31.75, 7.9883)):
            Rectangle(SKETCH35_W, SKETCH35_H)
    extrude(amount=F_0603_RES_5_DEPTH)


with BuildPart() as body_33:
    # Sketch36 → TRIMPOT-3MM-1 (new body)
    with BuildSketch(Plane.XY.offset(1.6)):
        with Locations((7.5692, 5.41)):
            Rectangle(SKETCH36_W, SKETCH36_H)
    extrude(amount=TRIMPOT_3MM_1_DEPTH)


with BuildPart() as body_34:
    # Sketch37 → STAND-OFF-1 (new body)
    with BuildSketch(Plane.XY.offset(1.6)):
        with Locations((2.54, 2.54)):
            Rectangle(SKETCH37_W, SKETCH37_H)
    extrude(amount=STAND_OFF_1_DEPTH)


with BuildPart() as body_35:
    # Sketch38 → STAND-OFF-2 (new body)
    with BuildSketch(Plane.XY.offset(1.6)):
        with Locations((2.54, 44.45)):
            Rectangle(SKETCH38_W, SKETCH38_H)
    extrude(amount=STAND_OFF_2_DEPTH)


with BuildPart() as body_36:
    # Sketch39 → STAND-OFF-3 (new body)
    with BuildSketch(Plane.XY.offset(1.6)):
        with Locations((44.45, 44.45)):
            Rectangle(SKETCH39_W, SKETCH39_H)
    extrude(amount=STAND_OFF_3_DEPTH)


with BuildPart() as body_37:
    # Sketch40 → STAND-OFF-4 (new body)
    with BuildSketch(Plane.XY.offset(1.6)):
        with Locations((44.45, 2.54)):
            Rectangle(SKETCH40_W, SKETCH40_H)
    extrude(amount=STAND_OFF_4_DEPTH)


with BuildPart() as body_38:
    # Sketch41 → MSOP-12_GND-1 (new body)
    with BuildSketch(Plane.XY.offset(1.6)):
        with Locations((20.28825, 13.97)):
            Rectangle(SKETCH41_W, SKETCH41_H)
    extrude(amount=MSOP_12_GND_1_DEPTH)


solid = Compound([part.part, body_2.part, body_3.part, body_4.part, body_5.part, body_6.part, body_7.part, body_8.part, body_9.part, body_10.part, body_11.part, body_12.part, body_13.part, body_14.part, body_15.part, body_16.part, body_17.part, body_18.part, body_19.part, body_20.part, body_21.part, body_22.part, body_23.part, body_24.part, body_25.part, body_26.part, body_27.part, body_28.part, body_29.part, body_30.part, body_31.part, body_32.part, body_33.part, body_34.part, body_35.part, body_36.part, body_37.part, body_38.part])
